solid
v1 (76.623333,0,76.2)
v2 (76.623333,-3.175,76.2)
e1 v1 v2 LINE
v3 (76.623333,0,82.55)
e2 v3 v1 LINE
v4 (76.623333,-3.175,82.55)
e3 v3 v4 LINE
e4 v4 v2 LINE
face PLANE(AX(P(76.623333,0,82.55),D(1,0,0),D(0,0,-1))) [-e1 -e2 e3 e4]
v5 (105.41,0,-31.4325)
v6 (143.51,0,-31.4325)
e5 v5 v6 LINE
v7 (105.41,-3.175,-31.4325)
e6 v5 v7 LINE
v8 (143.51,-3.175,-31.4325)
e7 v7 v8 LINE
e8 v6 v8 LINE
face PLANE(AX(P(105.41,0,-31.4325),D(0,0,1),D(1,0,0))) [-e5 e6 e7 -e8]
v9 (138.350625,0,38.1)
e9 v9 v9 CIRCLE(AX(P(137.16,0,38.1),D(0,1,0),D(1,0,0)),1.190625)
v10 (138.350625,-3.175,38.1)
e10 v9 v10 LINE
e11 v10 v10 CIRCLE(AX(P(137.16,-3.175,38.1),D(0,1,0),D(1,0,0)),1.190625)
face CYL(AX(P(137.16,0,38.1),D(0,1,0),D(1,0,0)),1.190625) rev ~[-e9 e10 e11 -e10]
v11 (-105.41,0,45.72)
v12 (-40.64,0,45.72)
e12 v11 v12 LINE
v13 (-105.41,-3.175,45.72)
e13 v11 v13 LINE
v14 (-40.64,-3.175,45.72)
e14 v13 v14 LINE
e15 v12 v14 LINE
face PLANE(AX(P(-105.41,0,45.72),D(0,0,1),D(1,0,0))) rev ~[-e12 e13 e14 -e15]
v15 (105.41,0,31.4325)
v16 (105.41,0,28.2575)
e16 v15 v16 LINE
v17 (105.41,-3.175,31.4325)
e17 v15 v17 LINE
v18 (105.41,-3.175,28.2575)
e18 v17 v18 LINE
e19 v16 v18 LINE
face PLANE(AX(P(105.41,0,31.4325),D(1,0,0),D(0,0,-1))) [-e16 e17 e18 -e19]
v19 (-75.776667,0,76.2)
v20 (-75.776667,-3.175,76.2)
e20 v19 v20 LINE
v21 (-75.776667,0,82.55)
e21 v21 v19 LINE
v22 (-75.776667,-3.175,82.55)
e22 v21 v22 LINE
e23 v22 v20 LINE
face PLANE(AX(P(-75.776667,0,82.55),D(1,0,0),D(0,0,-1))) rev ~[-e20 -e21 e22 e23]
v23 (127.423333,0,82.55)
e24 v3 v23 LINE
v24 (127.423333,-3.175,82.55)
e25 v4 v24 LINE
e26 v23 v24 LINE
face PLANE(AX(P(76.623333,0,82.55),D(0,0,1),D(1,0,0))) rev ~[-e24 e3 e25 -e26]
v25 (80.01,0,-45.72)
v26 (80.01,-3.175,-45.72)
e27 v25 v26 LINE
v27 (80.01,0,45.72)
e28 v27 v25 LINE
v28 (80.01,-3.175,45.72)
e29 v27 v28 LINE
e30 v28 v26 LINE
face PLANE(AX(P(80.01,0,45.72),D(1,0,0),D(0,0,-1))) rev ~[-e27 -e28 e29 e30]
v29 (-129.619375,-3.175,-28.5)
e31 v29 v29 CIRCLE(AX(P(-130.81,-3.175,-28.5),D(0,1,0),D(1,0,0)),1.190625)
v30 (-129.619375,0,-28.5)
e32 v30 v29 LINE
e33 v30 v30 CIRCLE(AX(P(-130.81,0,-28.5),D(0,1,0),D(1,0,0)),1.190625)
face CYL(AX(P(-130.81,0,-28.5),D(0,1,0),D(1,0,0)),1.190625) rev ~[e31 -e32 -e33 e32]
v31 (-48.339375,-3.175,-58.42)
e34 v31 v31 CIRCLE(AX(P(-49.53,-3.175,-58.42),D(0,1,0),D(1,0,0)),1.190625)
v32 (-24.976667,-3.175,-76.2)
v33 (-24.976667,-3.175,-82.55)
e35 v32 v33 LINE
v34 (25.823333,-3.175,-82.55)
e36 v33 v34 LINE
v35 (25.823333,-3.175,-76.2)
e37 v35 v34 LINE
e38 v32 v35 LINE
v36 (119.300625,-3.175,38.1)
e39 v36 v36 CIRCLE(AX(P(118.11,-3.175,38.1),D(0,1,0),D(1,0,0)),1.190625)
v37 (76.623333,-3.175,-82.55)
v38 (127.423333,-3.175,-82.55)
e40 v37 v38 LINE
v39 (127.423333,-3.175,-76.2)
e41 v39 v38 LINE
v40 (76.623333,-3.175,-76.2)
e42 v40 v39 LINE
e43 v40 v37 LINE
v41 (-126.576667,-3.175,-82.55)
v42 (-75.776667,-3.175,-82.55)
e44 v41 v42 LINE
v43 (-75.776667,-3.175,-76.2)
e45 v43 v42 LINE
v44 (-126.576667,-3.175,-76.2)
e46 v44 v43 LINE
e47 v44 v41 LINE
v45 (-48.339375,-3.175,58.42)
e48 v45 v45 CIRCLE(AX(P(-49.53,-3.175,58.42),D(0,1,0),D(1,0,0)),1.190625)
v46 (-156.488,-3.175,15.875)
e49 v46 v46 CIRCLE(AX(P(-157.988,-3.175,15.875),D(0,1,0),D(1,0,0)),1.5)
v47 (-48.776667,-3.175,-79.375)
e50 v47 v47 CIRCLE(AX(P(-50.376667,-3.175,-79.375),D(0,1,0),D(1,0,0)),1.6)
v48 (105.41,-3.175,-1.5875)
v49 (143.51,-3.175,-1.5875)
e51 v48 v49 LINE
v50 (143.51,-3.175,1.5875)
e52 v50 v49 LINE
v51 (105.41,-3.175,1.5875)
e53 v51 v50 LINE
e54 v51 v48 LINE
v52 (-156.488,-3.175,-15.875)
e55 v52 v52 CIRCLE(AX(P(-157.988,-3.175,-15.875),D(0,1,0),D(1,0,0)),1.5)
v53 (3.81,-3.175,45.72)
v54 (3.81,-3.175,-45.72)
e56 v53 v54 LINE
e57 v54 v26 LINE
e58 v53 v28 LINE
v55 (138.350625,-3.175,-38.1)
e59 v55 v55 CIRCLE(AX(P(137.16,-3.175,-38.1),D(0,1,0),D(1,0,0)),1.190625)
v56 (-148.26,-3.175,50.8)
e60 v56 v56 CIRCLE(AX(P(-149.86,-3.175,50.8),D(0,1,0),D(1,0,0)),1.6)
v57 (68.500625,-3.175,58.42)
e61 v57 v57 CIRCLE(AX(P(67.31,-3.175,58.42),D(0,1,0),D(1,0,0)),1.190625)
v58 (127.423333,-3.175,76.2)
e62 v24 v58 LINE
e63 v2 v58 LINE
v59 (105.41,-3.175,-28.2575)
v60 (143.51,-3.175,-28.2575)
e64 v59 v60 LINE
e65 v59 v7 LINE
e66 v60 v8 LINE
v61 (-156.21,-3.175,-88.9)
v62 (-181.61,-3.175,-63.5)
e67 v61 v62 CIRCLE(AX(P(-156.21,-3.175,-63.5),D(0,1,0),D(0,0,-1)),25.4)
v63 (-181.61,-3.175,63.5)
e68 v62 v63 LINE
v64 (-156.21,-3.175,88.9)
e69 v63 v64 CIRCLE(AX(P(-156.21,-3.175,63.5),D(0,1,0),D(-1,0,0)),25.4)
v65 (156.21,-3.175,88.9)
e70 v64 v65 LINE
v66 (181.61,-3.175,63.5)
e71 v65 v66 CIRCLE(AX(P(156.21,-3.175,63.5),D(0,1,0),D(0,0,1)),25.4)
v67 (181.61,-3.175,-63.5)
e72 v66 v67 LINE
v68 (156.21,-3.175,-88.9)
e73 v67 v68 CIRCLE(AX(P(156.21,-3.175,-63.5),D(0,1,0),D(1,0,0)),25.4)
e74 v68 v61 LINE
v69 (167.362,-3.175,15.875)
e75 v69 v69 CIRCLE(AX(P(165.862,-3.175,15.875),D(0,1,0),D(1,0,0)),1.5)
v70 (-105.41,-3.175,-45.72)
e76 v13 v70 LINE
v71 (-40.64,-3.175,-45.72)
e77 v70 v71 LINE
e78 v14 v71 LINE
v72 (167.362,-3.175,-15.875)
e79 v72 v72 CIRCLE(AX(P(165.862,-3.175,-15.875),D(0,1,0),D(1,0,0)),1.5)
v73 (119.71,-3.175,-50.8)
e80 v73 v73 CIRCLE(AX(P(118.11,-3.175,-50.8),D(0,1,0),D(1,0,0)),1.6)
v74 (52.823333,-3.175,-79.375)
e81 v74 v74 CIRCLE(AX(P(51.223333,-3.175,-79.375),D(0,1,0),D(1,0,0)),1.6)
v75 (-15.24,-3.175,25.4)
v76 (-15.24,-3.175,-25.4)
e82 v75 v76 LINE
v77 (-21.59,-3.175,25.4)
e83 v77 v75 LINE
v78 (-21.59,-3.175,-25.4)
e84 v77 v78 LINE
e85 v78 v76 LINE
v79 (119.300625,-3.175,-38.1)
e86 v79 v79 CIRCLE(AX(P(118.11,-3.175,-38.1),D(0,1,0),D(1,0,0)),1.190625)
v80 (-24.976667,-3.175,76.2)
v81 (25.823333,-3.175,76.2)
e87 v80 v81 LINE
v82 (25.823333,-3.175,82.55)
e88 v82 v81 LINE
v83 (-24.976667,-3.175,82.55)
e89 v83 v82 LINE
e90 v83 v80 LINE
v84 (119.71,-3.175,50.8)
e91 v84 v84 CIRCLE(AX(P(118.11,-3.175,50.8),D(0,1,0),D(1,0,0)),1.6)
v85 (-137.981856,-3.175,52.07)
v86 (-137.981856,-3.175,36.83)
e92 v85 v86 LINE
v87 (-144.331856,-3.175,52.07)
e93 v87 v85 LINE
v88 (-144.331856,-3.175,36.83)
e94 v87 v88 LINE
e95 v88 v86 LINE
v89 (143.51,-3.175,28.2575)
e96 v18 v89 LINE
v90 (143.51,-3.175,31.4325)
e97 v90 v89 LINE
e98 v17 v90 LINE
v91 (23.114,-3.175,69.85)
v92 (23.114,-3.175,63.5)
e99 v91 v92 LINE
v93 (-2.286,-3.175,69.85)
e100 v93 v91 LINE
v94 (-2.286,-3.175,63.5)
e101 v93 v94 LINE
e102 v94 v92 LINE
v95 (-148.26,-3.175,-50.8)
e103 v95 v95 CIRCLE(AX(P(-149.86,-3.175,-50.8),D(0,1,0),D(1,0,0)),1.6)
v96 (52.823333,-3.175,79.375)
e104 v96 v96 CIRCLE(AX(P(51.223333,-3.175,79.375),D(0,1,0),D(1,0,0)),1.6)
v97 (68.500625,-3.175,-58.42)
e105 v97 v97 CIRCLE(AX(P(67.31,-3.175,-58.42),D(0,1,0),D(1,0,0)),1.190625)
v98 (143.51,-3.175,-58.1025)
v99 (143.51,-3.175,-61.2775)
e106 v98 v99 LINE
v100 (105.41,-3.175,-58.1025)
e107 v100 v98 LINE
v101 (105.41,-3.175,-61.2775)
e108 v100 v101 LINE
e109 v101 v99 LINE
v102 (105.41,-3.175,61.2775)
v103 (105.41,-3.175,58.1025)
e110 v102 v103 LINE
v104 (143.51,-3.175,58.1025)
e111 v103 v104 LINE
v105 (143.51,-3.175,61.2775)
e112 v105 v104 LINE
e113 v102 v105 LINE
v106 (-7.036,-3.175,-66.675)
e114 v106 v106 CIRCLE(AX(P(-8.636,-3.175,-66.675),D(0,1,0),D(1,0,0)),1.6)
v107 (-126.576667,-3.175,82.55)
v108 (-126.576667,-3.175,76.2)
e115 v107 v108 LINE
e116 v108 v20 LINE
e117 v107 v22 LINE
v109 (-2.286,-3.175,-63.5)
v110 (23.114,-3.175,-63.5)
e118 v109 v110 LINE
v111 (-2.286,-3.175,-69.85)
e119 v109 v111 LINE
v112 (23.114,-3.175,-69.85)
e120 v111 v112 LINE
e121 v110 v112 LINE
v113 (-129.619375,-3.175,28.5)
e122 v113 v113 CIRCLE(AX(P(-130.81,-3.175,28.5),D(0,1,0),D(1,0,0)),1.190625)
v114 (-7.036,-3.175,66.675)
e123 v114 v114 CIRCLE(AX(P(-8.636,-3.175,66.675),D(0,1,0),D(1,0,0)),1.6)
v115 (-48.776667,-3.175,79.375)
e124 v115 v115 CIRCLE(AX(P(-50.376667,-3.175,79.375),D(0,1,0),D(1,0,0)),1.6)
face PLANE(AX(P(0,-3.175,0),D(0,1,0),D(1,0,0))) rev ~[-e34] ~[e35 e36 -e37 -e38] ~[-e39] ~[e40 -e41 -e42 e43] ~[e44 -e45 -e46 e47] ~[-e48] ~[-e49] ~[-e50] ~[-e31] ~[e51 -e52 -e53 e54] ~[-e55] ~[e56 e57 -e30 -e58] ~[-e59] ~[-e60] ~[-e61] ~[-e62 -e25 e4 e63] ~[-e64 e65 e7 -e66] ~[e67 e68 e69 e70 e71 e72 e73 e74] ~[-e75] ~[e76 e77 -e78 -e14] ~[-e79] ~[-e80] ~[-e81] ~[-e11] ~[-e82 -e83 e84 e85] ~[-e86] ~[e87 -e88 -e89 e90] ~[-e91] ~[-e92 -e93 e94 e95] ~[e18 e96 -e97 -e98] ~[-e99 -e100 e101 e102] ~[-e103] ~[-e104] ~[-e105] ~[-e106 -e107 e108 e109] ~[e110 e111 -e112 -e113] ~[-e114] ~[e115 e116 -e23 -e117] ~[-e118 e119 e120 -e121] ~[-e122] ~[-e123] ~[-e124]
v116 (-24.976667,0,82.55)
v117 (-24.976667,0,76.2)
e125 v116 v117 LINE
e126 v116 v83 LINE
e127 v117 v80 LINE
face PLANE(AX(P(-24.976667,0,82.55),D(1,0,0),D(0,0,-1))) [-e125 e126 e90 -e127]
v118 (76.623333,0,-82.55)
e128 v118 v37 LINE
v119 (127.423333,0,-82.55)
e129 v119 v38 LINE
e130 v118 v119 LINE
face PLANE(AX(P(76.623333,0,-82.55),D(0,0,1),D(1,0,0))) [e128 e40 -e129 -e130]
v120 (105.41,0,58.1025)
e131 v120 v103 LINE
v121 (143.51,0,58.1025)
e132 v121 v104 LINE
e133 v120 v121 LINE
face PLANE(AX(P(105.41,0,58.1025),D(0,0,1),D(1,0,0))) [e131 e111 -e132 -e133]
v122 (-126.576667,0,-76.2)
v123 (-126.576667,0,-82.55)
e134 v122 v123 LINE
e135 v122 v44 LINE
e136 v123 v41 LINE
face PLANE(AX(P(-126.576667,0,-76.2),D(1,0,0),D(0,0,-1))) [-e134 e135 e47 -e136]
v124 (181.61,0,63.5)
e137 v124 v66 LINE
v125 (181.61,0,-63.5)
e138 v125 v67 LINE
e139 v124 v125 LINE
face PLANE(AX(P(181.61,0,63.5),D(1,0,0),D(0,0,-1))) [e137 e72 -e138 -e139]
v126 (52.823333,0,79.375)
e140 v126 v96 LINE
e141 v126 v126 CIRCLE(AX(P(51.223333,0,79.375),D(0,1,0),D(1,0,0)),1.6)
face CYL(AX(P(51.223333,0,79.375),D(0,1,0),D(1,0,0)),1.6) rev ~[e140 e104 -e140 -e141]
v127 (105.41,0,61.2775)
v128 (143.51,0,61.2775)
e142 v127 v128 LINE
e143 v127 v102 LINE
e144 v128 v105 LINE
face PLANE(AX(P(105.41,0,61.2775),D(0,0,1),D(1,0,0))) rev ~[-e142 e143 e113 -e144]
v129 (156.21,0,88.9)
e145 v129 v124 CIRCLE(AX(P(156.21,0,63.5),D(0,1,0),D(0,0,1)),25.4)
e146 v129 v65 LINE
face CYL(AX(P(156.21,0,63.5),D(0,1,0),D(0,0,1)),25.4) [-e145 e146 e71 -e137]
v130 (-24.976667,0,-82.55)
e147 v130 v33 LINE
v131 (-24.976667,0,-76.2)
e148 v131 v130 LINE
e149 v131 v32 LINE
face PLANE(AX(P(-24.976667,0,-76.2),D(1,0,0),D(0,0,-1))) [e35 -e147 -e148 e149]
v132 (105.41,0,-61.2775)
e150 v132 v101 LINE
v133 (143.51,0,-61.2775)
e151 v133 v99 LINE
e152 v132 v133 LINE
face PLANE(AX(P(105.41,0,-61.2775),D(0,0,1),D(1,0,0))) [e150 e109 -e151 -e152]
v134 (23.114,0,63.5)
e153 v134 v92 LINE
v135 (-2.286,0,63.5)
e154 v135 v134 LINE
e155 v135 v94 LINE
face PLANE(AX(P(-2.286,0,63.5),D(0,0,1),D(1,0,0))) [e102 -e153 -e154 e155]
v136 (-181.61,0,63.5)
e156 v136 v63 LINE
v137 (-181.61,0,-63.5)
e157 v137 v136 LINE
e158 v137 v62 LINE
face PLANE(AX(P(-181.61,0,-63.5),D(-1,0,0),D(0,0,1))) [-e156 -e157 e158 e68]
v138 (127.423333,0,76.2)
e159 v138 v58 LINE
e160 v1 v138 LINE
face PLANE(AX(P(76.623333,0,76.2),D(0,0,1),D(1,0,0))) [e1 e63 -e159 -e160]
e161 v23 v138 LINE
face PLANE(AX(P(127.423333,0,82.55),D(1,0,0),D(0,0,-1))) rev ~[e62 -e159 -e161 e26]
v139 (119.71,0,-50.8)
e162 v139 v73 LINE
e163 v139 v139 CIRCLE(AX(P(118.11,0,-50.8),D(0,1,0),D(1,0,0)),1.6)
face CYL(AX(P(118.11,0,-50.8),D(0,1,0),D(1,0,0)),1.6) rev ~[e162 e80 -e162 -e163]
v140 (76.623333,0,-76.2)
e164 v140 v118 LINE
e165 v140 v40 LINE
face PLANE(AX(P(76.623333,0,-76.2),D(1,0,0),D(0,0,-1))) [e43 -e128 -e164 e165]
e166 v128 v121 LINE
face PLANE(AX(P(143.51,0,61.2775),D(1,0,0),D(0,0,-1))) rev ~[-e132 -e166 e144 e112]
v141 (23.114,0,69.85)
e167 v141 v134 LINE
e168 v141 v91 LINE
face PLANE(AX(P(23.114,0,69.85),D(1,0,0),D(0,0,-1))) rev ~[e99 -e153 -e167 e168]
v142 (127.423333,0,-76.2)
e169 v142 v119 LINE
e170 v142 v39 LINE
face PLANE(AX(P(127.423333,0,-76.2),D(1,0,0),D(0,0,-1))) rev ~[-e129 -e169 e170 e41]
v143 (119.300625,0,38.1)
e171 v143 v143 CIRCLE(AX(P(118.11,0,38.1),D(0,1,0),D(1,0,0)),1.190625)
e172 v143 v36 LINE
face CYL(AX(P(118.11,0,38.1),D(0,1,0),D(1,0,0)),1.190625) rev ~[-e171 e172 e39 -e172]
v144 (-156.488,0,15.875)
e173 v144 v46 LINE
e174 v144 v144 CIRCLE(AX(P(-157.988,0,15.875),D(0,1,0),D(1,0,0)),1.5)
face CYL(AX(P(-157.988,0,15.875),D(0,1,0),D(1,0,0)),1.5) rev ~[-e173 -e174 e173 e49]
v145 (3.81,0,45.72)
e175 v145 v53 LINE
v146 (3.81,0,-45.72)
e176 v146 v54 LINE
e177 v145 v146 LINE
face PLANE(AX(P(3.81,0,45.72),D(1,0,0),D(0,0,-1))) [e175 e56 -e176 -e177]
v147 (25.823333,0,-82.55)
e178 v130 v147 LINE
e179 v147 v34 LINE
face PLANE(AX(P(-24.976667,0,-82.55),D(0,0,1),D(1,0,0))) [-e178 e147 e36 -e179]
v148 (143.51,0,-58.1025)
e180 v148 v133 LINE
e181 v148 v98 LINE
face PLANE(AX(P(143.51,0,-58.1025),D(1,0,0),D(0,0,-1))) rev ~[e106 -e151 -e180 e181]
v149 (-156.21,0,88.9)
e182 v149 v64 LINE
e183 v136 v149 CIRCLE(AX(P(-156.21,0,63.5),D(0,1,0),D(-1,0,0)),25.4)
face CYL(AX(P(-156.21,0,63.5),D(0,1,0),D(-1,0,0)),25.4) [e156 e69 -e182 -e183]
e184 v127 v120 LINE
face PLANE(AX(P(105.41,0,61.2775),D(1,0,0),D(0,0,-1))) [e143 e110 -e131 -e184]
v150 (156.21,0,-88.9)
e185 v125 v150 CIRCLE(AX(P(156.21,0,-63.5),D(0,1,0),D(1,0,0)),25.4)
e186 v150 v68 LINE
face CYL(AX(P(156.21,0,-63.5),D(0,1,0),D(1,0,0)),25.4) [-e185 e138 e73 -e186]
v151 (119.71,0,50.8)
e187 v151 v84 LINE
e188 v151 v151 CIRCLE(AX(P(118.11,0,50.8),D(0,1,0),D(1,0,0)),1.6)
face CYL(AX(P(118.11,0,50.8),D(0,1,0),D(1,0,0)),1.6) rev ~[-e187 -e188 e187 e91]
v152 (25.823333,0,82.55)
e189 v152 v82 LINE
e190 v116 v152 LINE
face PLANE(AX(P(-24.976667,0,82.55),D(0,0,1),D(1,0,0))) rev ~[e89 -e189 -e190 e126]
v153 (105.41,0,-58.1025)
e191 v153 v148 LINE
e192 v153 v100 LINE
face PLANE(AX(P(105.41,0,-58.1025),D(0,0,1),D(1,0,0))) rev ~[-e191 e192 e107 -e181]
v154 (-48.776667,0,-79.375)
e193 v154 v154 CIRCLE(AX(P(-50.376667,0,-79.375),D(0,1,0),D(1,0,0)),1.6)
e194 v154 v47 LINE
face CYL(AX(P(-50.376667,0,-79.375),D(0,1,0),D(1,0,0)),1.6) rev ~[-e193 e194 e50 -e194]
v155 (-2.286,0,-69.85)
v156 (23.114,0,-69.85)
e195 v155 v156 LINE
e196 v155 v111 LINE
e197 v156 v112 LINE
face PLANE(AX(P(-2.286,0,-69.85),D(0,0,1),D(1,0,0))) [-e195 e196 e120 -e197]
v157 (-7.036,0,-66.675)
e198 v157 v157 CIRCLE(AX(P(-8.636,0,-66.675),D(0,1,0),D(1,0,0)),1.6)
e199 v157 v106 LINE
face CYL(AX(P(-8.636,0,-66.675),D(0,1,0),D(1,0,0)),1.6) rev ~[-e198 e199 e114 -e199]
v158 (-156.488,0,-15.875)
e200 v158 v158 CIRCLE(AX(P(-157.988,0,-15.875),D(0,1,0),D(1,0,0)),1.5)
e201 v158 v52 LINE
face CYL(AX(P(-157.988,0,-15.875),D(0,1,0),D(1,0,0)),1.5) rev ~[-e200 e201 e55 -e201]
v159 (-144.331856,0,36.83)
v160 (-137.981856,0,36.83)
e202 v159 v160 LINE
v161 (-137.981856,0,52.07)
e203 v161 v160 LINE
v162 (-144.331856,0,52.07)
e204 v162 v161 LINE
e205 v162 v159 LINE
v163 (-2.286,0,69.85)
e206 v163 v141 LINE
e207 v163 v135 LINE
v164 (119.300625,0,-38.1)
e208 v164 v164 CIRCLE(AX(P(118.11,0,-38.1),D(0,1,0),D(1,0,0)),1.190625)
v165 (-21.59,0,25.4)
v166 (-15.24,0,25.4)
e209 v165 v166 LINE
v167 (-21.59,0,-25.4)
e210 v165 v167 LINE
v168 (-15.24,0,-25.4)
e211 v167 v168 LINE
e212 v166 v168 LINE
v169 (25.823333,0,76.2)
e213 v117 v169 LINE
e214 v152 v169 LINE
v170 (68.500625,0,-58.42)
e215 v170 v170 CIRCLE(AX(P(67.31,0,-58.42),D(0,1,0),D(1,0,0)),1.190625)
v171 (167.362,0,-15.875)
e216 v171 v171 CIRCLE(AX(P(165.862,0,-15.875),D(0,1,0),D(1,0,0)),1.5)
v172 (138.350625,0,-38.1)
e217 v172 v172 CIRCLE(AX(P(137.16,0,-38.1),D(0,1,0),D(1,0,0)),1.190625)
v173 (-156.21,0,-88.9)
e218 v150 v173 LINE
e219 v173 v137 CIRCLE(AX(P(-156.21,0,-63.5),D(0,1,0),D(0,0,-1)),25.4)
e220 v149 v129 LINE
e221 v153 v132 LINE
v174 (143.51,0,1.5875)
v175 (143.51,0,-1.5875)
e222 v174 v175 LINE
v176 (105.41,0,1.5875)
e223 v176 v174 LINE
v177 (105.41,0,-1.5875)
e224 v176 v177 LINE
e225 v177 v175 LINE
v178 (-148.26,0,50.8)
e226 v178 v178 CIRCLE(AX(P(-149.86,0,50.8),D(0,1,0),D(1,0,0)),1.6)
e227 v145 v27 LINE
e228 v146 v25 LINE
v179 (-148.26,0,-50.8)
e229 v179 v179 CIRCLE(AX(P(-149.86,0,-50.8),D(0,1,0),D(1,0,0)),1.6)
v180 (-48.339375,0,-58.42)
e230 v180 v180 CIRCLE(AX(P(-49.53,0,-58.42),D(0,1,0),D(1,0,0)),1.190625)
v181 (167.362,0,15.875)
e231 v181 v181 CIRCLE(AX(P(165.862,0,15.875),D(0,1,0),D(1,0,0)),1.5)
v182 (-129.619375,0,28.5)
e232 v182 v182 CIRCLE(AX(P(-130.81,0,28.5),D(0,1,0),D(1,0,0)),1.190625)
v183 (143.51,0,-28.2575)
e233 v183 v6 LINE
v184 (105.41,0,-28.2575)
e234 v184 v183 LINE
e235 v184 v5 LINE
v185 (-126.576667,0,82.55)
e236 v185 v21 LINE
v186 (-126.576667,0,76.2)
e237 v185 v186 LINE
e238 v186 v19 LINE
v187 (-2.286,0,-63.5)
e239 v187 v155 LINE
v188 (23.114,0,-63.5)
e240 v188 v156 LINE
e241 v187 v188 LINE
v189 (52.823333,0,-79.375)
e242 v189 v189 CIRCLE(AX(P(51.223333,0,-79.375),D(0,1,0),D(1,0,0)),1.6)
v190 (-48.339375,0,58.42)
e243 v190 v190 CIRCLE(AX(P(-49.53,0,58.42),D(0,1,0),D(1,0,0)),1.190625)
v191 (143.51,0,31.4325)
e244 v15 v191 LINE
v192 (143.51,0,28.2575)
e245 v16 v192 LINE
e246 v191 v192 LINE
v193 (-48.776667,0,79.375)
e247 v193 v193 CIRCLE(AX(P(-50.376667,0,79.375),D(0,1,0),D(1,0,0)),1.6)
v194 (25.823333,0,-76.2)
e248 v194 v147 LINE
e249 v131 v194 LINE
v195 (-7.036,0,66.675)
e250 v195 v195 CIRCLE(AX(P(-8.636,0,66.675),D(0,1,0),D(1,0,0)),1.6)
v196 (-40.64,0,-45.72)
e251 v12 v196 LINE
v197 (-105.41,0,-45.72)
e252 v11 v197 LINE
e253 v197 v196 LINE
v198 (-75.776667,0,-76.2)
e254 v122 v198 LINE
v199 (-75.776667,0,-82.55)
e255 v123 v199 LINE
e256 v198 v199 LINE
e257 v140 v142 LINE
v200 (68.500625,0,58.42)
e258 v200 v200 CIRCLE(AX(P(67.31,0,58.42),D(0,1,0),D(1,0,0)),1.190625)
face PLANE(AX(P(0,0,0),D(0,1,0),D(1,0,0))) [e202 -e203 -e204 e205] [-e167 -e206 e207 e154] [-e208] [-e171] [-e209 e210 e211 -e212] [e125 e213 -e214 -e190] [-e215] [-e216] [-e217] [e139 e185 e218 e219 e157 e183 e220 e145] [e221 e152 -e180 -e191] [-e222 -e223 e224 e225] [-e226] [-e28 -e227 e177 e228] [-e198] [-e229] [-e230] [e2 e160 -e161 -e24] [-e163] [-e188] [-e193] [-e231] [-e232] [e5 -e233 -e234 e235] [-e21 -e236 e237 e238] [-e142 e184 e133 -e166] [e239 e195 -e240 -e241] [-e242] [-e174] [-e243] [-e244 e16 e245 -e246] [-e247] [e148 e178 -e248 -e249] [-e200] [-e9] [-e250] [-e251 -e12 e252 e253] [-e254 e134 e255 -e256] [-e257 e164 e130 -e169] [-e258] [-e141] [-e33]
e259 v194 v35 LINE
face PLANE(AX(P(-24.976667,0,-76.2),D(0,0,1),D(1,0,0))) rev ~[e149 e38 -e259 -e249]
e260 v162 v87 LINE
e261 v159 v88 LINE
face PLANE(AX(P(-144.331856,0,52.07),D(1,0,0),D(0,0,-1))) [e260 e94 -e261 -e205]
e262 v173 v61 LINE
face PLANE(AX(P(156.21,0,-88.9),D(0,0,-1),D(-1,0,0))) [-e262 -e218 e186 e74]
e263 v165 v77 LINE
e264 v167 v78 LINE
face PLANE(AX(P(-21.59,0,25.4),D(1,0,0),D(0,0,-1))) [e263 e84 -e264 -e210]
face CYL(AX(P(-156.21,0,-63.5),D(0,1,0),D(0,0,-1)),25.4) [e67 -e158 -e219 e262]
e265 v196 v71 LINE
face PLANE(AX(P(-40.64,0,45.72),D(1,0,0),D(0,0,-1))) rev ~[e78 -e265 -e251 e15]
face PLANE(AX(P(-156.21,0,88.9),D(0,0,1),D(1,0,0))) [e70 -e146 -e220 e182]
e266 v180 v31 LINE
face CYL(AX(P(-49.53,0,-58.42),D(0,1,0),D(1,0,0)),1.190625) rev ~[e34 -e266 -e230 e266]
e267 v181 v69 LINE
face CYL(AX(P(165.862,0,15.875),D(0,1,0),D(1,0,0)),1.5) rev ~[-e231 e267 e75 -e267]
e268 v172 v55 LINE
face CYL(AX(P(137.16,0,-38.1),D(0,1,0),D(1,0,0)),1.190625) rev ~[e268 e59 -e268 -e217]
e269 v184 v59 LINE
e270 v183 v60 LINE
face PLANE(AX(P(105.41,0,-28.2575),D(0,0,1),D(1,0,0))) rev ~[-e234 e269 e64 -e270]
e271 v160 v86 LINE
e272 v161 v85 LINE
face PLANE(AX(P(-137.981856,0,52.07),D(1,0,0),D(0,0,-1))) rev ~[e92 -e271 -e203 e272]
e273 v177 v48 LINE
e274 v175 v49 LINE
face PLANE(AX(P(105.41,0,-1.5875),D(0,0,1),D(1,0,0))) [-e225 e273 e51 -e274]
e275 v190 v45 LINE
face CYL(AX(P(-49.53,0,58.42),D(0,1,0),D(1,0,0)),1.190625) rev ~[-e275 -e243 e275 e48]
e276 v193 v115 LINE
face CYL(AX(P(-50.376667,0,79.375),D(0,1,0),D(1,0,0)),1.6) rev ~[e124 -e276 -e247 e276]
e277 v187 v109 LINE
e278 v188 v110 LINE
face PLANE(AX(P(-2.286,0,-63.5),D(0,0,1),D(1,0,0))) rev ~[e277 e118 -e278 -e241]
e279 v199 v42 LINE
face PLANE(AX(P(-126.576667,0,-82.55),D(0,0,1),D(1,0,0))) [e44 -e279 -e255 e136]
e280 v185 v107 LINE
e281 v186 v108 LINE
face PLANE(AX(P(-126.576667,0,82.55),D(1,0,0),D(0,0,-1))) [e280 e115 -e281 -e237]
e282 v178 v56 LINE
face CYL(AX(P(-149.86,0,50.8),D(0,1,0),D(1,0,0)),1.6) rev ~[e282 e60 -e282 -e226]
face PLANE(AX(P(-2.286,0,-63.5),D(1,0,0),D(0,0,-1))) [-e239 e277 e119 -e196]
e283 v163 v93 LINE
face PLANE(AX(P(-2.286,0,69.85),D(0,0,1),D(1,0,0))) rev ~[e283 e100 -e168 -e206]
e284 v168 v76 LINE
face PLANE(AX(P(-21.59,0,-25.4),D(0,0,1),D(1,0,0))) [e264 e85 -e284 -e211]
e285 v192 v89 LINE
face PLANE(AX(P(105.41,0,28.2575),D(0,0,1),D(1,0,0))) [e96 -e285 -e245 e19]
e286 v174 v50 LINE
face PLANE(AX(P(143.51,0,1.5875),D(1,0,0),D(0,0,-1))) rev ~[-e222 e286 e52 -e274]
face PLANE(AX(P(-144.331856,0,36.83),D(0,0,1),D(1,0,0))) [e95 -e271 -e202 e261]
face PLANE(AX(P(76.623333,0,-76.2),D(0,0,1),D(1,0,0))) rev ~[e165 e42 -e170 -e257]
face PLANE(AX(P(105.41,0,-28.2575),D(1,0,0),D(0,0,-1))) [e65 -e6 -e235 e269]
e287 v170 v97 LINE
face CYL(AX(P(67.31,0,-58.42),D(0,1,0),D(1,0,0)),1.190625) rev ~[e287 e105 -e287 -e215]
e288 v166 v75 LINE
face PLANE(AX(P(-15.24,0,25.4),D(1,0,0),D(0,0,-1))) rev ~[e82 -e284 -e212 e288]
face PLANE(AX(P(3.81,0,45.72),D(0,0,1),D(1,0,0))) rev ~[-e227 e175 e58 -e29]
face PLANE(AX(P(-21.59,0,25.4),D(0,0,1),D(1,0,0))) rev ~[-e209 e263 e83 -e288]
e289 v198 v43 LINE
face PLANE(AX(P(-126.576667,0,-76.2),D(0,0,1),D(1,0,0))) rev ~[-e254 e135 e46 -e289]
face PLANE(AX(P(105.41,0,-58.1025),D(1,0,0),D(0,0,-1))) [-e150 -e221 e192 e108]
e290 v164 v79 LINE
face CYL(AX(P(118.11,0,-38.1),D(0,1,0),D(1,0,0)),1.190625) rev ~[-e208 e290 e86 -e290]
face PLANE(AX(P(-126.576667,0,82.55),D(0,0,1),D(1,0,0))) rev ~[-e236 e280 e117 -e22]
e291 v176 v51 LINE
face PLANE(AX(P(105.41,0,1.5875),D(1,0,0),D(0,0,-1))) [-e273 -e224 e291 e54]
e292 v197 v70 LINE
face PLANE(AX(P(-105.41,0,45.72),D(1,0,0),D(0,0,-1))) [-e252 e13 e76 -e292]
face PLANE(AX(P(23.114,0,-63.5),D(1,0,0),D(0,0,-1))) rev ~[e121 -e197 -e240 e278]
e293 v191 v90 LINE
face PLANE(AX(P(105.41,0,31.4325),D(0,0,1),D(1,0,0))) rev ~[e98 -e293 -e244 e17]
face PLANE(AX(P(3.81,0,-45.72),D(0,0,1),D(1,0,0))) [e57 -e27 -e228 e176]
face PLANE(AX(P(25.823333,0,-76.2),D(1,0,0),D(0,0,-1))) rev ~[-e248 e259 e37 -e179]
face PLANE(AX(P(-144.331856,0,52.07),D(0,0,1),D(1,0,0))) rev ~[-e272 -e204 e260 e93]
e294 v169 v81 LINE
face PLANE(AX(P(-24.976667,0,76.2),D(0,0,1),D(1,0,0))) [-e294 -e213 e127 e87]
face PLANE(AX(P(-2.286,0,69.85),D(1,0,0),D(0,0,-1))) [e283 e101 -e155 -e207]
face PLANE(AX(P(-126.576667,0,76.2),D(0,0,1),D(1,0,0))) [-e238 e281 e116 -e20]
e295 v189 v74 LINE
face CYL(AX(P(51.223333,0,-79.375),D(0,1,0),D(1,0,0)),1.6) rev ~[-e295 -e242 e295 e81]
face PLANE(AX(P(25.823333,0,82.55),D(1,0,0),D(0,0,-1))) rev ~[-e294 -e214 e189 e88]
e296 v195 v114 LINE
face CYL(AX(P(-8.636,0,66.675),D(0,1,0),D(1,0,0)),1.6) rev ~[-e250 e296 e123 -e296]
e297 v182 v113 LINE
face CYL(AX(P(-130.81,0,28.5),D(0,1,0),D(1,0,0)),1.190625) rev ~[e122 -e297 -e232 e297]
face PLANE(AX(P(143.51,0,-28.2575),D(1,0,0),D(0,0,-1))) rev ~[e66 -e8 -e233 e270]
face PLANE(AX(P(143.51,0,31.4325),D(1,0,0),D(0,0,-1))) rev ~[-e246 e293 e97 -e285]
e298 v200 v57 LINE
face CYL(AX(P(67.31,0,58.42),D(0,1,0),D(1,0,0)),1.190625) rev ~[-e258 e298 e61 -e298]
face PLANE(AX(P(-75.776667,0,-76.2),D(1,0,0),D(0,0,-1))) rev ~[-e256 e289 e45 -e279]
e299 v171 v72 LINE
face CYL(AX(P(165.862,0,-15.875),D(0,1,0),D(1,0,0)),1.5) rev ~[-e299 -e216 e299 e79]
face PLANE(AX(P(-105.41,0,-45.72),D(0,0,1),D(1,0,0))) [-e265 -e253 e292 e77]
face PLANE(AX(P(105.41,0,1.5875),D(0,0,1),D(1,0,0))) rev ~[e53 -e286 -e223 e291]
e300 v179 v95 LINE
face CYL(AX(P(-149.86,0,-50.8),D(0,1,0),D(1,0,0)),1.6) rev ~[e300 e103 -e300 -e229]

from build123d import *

# Parameters (mm, degrees)
BASEEXTRUDE_DEPTH   = 3.175
SKETCH6_R           = 1.5
MAINMOUNTCUT_DEPTH  = 3.175
SKETCH7_R           = 1.6
SKETCH7_W           = 50.8
SKETCH7_H           = 6.35
WALLCUT_DEPTH       = 4.175
SKETCH8_W           = 38.1
SKETCH8_H           = 3.175
WIREMOUNTCUT_DEPTH  = 4.175
SKETCH9_R           = 1.6
CUT_EXTRUDE3_DEPTH  = 4.175
SKETCH11_W          = 6.35
SKETCH11_H          = 50.8
CUT_EXTRUDE4_DEPTH  = 4.175
SKETCH14_W          = 6.35
SKETCH14_H          = 15.24
CUT_EXTRUDE6_DEPTH  = 4.175
SKETCH15_R          = 1.190625
CUT_EXTRUDE7_DEPTH  = 4.175
SKETCH16_R          = 1.190625
CUT_EXTRUDE8_DEPTH  = 4.175
SKETCH17_W          = 76.2
SKETCH17_H          = 91.44
SKETCH17_W_2        = 64.77
CUT_EXTRUDE9_DEPTH  = 4.175
SKETCH18_R          = 1.6
SKETCH18_W          = 25.4
SKETCH18_H          = 6.35
CUT_EXTRUDE10_DEPTH = 4.175


with BuildPart() as part:
    # Sketch3 → BaseExtrude (new body)
    with BuildSketch(Plane(origin=(0, 0, 0), x_dir=(1, 0, 0), z_dir=(0, 1, 0))):
        with BuildLine():
            Line((-156.21, -88.9), (156.21, -88.9))
            ThreePointArc((156.21, -88.9), (174.170512242, -81.460512242), (181.61, -63.5))
            Line((181.61, -63.5), (181.61, 63.5))
            ThreePointArc((181.61, 63.5), (174.170512242, 81.460512242), (156.21, 88.9))
            Line((156.21, 88.9), (-156.21, 88.9))
            ThreePointArc((-156.21, 88.9), (-174.170512242, 81.460512242), (-181.61, 63.5))
            Line((-181.61, 63.5), (-181.61, -63.5))
            ThreePointArc((-181.61, -63.5), (-174.170512242, -81.460512242), (-156.21, -88.9))
        make_face()
    extrude(amount=-BASEEXTRUDE_DEPTH)

    # Sketch6 → MainMountCut (cut)
    with BuildSketch(Plane(origin=(0, 0, 0), x_dir=(1, 0, 0), z_dir=(0, 1, 0))):
        with Locations((-157.988, 15.875)):
            Circle(SKETCH6_R)
        with Locations((-157.988, -15.875)):
            Circle(SKETCH6_R)
        with Locations((165.862, -15.875)):
            Circle(SKETCH6_R)
        with Locations((165.862, 15.875)):
            Circle(SKETCH6_R)
    extrude(amount=-MAINMOUNTCUT_DEPTH, mode=Mode.SUBTRACT)

    # Sketch7 → WallCut (cut, through all)
    with BuildSketch(Plane(origin=(0, 0, 0), x_dir=(1, 0, 0), z_dir=(0, 1, 0))):
        with Locations((51.223333333, 79.375)):
            Circle(SKETCH7_R)
        with Locations((-50.376666667, 79.375)):
            Circle(SKETCH7_R)
        with Locations((-50.376666667, -79.375)):
            Circle(SKETCH7_R)
        with Locations((51.223333333, -79.375)):
            Circle(SKETCH7_R)
        with Locations((102.023333333, -79.375)):
            Rectangle(SKETCH7_W, SKETCH7_H)
        with Locations((0.423333333, -79.375)):
            Rectangle(SKETCH7_W, SKETCH7_H)
        with Locations((-101.176666667, -79.375)):
            Rectangle(SKETCH7_W, SKETCH7_H)
        with Locations((102.023333333, 79.375)):
            Rectangle(SKETCH7_W, SKETCH7_H)
        with Locations((0.423333333, 79.375)):
            Rectangle(SKETCH7_W, SKETCH7_H)
        with Locations((-101.176666667, 79.375)):
            Rectangle(SKETCH7_W, SKETCH7_H)
    extrude(amount=-WALLCUT_DEPTH, mode=Mode.SUBTRACT)

    # Sketch8 → WireMountCut (cut, through all)
    with BuildSketch(Plane(origin=(0, 0, 0), x_dir=(1, 0, 0), z_dir=(0, 1, 0))):
        with Locations((124.46, -59.69)):
            Rectangle(SKETCH8_W, SKETCH8_H)
        with Locations((124.46, -29.845)):
            Rectangle(SKETCH8_W, SKETCH8_H)
        with Locations((124.46, 0)):
            Rectangle(SKETCH8_W, SKETCH8_H)
        with Locations((124.46, 29.845)):
            Rectangle(SKETCH8_W, SKETCH8_H)
        with Locations((124.46, 59.69)):
            Rectangle(SKETCH8_W, SKETCH8_H)
    extrude(amount=-WIREMOUNTCUT_DEPTH, mode=Mode.SUBTRACT)

    # Sketch9 → Cut-Extrude3 (cut, through all)
    with BuildSketch(Plane(origin=(0, 0, 0), x_dir=(1, 0, 0), z_dir=(0, 1, 0))):
        with Locations((118.11, 50.8)):
            Circle(SKETCH9_R)
        with Locations((118.11, -50.8)):
            Circle(SKETCH9_R)
        with Locations((-149.86, -50.8)):
            Circle(SKETCH9_R)
        with Locations((-149.86, 50.8)):
            Circle(SKETCH9_R)
    extrude(amount=-CUT_EXTRUDE3_DEPTH, mode=Mode.SUBTRACT)

    # Sketch11 → Cut-Extrude4 (cut, through all)
    with BuildSketch(Plane(origin=(0, 0, 0), x_dir=(1, 0, 0), z_dir=(0, 1, 0))):
        with Locations((-18.415, 0)):
            Rectangle(SKETCH11_W, SKETCH11_H)
    extrude(amount=-CUT_EXTRUDE4_DEPTH, mode=Mode.SUBTRACT)

    # Sketch14 → Cut-Extrude6 (cut, through all)
    with BuildSketch(Plane(origin=(0, 0, 0), x_dir=(1, 0, 0), z_dir=(0, 1, 0))):
        with Locations((-141.156855902, -44.45)):
            Rectangle(SKETCH14_W, SKETCH14_H)
    extrude(amount=-CUT_EXTRUDE6_DEPTH, mode=Mode.SUBTRACT)

    # Sketch15 → Cut-Extrude7 (cut, through all)
    with BuildSketch(Plane(origin=(0, 0, 0), x_dir=(1, 0, 0), z_dir=(0, 1, 0))):
        with Locations((67.31, -58.42)):
            Circle(SKETCH15_R)
        with Locations((-49.53, -58.42)):
            Circle(SKETCH15_R)
        with Locations((-49.53, 58.42)):
            Circle(SKETCH15_R)
        with Locations((67.31, 58.42)):
            Circle(SKETCH15_R)
        with Locations((137.16, -38.1)):
            Circle(SKETCH15_R)
        with Locations((118.11, -38.1)):
            Circle(SKETCH15_R)
        with Locations((137.16, 38.1)):
            Circle(SKETCH15_R)
        with Locations((118.11, 38.1)):
            Circle(SKETCH15_R)
    extrude(amount=-CUT_EXTRUDE7_DEPTH, mode=Mode.SUBTRACT)

    # Sketch16 → Cut-Extrude8 (cut, through all)
    with BuildSketch(Plane(origin=(0, 0, 0), x_dir=(1, 0, 0), z_dir=(0, 1, 0))):
        with Locations((-130.81, -28.5)):
            Circle(SKETCH16_R)
        with Locations((-130.81, 28.5)):
            Circle(SKETCH16_R)
    extrude(amount=-CUT_EXTRUDE8_DEPTH, mode=Mode.SUBTRACT)

    # Sketch17 → Cut-Extrude9 (cut, through all)
    with BuildSketch(Plane(origin=(0, 0, 0), x_dir=(1, 0, 0), z_dir=(0, 1, 0))):
        with Locations((41.91, 0)):
            Rectangle(SKETCH17_W, SKETCH17_H)
        with Locations((-73.025, 0)):
            Rectangle(SKETCH17_W_2, SKETCH17_H)
    extrude(amount=-CUT_EXTRUDE9_DEPTH, mode=Mode.SUBTRACT)

    # Sketch18 → Cut-Extrude10 (cut, through all)
    with BuildSketch(Plane(origin=(0, 0, 0), x_dir=(1, 0, 0), z_dir=(0, 1, 0))):
        with Locations((-8.636, -66.675)):
            Circle(SKETCH18_R)
        with Locations((-8.636, 66.675)):
            Circle(SKETCH18_R)
        with Locations((10.414, -66.675)):
            Rectangle(SKETCH18_W, SKETCH18_H)
        with Locations((10.414, 66.675)):
            Rectangle(SKETCH18_W, SKETCH18_H)
    extrude(amount=-CUT_EXTRUDE10_DEPTH, mode=Mode.SUBTRACT)


solid = part.part
